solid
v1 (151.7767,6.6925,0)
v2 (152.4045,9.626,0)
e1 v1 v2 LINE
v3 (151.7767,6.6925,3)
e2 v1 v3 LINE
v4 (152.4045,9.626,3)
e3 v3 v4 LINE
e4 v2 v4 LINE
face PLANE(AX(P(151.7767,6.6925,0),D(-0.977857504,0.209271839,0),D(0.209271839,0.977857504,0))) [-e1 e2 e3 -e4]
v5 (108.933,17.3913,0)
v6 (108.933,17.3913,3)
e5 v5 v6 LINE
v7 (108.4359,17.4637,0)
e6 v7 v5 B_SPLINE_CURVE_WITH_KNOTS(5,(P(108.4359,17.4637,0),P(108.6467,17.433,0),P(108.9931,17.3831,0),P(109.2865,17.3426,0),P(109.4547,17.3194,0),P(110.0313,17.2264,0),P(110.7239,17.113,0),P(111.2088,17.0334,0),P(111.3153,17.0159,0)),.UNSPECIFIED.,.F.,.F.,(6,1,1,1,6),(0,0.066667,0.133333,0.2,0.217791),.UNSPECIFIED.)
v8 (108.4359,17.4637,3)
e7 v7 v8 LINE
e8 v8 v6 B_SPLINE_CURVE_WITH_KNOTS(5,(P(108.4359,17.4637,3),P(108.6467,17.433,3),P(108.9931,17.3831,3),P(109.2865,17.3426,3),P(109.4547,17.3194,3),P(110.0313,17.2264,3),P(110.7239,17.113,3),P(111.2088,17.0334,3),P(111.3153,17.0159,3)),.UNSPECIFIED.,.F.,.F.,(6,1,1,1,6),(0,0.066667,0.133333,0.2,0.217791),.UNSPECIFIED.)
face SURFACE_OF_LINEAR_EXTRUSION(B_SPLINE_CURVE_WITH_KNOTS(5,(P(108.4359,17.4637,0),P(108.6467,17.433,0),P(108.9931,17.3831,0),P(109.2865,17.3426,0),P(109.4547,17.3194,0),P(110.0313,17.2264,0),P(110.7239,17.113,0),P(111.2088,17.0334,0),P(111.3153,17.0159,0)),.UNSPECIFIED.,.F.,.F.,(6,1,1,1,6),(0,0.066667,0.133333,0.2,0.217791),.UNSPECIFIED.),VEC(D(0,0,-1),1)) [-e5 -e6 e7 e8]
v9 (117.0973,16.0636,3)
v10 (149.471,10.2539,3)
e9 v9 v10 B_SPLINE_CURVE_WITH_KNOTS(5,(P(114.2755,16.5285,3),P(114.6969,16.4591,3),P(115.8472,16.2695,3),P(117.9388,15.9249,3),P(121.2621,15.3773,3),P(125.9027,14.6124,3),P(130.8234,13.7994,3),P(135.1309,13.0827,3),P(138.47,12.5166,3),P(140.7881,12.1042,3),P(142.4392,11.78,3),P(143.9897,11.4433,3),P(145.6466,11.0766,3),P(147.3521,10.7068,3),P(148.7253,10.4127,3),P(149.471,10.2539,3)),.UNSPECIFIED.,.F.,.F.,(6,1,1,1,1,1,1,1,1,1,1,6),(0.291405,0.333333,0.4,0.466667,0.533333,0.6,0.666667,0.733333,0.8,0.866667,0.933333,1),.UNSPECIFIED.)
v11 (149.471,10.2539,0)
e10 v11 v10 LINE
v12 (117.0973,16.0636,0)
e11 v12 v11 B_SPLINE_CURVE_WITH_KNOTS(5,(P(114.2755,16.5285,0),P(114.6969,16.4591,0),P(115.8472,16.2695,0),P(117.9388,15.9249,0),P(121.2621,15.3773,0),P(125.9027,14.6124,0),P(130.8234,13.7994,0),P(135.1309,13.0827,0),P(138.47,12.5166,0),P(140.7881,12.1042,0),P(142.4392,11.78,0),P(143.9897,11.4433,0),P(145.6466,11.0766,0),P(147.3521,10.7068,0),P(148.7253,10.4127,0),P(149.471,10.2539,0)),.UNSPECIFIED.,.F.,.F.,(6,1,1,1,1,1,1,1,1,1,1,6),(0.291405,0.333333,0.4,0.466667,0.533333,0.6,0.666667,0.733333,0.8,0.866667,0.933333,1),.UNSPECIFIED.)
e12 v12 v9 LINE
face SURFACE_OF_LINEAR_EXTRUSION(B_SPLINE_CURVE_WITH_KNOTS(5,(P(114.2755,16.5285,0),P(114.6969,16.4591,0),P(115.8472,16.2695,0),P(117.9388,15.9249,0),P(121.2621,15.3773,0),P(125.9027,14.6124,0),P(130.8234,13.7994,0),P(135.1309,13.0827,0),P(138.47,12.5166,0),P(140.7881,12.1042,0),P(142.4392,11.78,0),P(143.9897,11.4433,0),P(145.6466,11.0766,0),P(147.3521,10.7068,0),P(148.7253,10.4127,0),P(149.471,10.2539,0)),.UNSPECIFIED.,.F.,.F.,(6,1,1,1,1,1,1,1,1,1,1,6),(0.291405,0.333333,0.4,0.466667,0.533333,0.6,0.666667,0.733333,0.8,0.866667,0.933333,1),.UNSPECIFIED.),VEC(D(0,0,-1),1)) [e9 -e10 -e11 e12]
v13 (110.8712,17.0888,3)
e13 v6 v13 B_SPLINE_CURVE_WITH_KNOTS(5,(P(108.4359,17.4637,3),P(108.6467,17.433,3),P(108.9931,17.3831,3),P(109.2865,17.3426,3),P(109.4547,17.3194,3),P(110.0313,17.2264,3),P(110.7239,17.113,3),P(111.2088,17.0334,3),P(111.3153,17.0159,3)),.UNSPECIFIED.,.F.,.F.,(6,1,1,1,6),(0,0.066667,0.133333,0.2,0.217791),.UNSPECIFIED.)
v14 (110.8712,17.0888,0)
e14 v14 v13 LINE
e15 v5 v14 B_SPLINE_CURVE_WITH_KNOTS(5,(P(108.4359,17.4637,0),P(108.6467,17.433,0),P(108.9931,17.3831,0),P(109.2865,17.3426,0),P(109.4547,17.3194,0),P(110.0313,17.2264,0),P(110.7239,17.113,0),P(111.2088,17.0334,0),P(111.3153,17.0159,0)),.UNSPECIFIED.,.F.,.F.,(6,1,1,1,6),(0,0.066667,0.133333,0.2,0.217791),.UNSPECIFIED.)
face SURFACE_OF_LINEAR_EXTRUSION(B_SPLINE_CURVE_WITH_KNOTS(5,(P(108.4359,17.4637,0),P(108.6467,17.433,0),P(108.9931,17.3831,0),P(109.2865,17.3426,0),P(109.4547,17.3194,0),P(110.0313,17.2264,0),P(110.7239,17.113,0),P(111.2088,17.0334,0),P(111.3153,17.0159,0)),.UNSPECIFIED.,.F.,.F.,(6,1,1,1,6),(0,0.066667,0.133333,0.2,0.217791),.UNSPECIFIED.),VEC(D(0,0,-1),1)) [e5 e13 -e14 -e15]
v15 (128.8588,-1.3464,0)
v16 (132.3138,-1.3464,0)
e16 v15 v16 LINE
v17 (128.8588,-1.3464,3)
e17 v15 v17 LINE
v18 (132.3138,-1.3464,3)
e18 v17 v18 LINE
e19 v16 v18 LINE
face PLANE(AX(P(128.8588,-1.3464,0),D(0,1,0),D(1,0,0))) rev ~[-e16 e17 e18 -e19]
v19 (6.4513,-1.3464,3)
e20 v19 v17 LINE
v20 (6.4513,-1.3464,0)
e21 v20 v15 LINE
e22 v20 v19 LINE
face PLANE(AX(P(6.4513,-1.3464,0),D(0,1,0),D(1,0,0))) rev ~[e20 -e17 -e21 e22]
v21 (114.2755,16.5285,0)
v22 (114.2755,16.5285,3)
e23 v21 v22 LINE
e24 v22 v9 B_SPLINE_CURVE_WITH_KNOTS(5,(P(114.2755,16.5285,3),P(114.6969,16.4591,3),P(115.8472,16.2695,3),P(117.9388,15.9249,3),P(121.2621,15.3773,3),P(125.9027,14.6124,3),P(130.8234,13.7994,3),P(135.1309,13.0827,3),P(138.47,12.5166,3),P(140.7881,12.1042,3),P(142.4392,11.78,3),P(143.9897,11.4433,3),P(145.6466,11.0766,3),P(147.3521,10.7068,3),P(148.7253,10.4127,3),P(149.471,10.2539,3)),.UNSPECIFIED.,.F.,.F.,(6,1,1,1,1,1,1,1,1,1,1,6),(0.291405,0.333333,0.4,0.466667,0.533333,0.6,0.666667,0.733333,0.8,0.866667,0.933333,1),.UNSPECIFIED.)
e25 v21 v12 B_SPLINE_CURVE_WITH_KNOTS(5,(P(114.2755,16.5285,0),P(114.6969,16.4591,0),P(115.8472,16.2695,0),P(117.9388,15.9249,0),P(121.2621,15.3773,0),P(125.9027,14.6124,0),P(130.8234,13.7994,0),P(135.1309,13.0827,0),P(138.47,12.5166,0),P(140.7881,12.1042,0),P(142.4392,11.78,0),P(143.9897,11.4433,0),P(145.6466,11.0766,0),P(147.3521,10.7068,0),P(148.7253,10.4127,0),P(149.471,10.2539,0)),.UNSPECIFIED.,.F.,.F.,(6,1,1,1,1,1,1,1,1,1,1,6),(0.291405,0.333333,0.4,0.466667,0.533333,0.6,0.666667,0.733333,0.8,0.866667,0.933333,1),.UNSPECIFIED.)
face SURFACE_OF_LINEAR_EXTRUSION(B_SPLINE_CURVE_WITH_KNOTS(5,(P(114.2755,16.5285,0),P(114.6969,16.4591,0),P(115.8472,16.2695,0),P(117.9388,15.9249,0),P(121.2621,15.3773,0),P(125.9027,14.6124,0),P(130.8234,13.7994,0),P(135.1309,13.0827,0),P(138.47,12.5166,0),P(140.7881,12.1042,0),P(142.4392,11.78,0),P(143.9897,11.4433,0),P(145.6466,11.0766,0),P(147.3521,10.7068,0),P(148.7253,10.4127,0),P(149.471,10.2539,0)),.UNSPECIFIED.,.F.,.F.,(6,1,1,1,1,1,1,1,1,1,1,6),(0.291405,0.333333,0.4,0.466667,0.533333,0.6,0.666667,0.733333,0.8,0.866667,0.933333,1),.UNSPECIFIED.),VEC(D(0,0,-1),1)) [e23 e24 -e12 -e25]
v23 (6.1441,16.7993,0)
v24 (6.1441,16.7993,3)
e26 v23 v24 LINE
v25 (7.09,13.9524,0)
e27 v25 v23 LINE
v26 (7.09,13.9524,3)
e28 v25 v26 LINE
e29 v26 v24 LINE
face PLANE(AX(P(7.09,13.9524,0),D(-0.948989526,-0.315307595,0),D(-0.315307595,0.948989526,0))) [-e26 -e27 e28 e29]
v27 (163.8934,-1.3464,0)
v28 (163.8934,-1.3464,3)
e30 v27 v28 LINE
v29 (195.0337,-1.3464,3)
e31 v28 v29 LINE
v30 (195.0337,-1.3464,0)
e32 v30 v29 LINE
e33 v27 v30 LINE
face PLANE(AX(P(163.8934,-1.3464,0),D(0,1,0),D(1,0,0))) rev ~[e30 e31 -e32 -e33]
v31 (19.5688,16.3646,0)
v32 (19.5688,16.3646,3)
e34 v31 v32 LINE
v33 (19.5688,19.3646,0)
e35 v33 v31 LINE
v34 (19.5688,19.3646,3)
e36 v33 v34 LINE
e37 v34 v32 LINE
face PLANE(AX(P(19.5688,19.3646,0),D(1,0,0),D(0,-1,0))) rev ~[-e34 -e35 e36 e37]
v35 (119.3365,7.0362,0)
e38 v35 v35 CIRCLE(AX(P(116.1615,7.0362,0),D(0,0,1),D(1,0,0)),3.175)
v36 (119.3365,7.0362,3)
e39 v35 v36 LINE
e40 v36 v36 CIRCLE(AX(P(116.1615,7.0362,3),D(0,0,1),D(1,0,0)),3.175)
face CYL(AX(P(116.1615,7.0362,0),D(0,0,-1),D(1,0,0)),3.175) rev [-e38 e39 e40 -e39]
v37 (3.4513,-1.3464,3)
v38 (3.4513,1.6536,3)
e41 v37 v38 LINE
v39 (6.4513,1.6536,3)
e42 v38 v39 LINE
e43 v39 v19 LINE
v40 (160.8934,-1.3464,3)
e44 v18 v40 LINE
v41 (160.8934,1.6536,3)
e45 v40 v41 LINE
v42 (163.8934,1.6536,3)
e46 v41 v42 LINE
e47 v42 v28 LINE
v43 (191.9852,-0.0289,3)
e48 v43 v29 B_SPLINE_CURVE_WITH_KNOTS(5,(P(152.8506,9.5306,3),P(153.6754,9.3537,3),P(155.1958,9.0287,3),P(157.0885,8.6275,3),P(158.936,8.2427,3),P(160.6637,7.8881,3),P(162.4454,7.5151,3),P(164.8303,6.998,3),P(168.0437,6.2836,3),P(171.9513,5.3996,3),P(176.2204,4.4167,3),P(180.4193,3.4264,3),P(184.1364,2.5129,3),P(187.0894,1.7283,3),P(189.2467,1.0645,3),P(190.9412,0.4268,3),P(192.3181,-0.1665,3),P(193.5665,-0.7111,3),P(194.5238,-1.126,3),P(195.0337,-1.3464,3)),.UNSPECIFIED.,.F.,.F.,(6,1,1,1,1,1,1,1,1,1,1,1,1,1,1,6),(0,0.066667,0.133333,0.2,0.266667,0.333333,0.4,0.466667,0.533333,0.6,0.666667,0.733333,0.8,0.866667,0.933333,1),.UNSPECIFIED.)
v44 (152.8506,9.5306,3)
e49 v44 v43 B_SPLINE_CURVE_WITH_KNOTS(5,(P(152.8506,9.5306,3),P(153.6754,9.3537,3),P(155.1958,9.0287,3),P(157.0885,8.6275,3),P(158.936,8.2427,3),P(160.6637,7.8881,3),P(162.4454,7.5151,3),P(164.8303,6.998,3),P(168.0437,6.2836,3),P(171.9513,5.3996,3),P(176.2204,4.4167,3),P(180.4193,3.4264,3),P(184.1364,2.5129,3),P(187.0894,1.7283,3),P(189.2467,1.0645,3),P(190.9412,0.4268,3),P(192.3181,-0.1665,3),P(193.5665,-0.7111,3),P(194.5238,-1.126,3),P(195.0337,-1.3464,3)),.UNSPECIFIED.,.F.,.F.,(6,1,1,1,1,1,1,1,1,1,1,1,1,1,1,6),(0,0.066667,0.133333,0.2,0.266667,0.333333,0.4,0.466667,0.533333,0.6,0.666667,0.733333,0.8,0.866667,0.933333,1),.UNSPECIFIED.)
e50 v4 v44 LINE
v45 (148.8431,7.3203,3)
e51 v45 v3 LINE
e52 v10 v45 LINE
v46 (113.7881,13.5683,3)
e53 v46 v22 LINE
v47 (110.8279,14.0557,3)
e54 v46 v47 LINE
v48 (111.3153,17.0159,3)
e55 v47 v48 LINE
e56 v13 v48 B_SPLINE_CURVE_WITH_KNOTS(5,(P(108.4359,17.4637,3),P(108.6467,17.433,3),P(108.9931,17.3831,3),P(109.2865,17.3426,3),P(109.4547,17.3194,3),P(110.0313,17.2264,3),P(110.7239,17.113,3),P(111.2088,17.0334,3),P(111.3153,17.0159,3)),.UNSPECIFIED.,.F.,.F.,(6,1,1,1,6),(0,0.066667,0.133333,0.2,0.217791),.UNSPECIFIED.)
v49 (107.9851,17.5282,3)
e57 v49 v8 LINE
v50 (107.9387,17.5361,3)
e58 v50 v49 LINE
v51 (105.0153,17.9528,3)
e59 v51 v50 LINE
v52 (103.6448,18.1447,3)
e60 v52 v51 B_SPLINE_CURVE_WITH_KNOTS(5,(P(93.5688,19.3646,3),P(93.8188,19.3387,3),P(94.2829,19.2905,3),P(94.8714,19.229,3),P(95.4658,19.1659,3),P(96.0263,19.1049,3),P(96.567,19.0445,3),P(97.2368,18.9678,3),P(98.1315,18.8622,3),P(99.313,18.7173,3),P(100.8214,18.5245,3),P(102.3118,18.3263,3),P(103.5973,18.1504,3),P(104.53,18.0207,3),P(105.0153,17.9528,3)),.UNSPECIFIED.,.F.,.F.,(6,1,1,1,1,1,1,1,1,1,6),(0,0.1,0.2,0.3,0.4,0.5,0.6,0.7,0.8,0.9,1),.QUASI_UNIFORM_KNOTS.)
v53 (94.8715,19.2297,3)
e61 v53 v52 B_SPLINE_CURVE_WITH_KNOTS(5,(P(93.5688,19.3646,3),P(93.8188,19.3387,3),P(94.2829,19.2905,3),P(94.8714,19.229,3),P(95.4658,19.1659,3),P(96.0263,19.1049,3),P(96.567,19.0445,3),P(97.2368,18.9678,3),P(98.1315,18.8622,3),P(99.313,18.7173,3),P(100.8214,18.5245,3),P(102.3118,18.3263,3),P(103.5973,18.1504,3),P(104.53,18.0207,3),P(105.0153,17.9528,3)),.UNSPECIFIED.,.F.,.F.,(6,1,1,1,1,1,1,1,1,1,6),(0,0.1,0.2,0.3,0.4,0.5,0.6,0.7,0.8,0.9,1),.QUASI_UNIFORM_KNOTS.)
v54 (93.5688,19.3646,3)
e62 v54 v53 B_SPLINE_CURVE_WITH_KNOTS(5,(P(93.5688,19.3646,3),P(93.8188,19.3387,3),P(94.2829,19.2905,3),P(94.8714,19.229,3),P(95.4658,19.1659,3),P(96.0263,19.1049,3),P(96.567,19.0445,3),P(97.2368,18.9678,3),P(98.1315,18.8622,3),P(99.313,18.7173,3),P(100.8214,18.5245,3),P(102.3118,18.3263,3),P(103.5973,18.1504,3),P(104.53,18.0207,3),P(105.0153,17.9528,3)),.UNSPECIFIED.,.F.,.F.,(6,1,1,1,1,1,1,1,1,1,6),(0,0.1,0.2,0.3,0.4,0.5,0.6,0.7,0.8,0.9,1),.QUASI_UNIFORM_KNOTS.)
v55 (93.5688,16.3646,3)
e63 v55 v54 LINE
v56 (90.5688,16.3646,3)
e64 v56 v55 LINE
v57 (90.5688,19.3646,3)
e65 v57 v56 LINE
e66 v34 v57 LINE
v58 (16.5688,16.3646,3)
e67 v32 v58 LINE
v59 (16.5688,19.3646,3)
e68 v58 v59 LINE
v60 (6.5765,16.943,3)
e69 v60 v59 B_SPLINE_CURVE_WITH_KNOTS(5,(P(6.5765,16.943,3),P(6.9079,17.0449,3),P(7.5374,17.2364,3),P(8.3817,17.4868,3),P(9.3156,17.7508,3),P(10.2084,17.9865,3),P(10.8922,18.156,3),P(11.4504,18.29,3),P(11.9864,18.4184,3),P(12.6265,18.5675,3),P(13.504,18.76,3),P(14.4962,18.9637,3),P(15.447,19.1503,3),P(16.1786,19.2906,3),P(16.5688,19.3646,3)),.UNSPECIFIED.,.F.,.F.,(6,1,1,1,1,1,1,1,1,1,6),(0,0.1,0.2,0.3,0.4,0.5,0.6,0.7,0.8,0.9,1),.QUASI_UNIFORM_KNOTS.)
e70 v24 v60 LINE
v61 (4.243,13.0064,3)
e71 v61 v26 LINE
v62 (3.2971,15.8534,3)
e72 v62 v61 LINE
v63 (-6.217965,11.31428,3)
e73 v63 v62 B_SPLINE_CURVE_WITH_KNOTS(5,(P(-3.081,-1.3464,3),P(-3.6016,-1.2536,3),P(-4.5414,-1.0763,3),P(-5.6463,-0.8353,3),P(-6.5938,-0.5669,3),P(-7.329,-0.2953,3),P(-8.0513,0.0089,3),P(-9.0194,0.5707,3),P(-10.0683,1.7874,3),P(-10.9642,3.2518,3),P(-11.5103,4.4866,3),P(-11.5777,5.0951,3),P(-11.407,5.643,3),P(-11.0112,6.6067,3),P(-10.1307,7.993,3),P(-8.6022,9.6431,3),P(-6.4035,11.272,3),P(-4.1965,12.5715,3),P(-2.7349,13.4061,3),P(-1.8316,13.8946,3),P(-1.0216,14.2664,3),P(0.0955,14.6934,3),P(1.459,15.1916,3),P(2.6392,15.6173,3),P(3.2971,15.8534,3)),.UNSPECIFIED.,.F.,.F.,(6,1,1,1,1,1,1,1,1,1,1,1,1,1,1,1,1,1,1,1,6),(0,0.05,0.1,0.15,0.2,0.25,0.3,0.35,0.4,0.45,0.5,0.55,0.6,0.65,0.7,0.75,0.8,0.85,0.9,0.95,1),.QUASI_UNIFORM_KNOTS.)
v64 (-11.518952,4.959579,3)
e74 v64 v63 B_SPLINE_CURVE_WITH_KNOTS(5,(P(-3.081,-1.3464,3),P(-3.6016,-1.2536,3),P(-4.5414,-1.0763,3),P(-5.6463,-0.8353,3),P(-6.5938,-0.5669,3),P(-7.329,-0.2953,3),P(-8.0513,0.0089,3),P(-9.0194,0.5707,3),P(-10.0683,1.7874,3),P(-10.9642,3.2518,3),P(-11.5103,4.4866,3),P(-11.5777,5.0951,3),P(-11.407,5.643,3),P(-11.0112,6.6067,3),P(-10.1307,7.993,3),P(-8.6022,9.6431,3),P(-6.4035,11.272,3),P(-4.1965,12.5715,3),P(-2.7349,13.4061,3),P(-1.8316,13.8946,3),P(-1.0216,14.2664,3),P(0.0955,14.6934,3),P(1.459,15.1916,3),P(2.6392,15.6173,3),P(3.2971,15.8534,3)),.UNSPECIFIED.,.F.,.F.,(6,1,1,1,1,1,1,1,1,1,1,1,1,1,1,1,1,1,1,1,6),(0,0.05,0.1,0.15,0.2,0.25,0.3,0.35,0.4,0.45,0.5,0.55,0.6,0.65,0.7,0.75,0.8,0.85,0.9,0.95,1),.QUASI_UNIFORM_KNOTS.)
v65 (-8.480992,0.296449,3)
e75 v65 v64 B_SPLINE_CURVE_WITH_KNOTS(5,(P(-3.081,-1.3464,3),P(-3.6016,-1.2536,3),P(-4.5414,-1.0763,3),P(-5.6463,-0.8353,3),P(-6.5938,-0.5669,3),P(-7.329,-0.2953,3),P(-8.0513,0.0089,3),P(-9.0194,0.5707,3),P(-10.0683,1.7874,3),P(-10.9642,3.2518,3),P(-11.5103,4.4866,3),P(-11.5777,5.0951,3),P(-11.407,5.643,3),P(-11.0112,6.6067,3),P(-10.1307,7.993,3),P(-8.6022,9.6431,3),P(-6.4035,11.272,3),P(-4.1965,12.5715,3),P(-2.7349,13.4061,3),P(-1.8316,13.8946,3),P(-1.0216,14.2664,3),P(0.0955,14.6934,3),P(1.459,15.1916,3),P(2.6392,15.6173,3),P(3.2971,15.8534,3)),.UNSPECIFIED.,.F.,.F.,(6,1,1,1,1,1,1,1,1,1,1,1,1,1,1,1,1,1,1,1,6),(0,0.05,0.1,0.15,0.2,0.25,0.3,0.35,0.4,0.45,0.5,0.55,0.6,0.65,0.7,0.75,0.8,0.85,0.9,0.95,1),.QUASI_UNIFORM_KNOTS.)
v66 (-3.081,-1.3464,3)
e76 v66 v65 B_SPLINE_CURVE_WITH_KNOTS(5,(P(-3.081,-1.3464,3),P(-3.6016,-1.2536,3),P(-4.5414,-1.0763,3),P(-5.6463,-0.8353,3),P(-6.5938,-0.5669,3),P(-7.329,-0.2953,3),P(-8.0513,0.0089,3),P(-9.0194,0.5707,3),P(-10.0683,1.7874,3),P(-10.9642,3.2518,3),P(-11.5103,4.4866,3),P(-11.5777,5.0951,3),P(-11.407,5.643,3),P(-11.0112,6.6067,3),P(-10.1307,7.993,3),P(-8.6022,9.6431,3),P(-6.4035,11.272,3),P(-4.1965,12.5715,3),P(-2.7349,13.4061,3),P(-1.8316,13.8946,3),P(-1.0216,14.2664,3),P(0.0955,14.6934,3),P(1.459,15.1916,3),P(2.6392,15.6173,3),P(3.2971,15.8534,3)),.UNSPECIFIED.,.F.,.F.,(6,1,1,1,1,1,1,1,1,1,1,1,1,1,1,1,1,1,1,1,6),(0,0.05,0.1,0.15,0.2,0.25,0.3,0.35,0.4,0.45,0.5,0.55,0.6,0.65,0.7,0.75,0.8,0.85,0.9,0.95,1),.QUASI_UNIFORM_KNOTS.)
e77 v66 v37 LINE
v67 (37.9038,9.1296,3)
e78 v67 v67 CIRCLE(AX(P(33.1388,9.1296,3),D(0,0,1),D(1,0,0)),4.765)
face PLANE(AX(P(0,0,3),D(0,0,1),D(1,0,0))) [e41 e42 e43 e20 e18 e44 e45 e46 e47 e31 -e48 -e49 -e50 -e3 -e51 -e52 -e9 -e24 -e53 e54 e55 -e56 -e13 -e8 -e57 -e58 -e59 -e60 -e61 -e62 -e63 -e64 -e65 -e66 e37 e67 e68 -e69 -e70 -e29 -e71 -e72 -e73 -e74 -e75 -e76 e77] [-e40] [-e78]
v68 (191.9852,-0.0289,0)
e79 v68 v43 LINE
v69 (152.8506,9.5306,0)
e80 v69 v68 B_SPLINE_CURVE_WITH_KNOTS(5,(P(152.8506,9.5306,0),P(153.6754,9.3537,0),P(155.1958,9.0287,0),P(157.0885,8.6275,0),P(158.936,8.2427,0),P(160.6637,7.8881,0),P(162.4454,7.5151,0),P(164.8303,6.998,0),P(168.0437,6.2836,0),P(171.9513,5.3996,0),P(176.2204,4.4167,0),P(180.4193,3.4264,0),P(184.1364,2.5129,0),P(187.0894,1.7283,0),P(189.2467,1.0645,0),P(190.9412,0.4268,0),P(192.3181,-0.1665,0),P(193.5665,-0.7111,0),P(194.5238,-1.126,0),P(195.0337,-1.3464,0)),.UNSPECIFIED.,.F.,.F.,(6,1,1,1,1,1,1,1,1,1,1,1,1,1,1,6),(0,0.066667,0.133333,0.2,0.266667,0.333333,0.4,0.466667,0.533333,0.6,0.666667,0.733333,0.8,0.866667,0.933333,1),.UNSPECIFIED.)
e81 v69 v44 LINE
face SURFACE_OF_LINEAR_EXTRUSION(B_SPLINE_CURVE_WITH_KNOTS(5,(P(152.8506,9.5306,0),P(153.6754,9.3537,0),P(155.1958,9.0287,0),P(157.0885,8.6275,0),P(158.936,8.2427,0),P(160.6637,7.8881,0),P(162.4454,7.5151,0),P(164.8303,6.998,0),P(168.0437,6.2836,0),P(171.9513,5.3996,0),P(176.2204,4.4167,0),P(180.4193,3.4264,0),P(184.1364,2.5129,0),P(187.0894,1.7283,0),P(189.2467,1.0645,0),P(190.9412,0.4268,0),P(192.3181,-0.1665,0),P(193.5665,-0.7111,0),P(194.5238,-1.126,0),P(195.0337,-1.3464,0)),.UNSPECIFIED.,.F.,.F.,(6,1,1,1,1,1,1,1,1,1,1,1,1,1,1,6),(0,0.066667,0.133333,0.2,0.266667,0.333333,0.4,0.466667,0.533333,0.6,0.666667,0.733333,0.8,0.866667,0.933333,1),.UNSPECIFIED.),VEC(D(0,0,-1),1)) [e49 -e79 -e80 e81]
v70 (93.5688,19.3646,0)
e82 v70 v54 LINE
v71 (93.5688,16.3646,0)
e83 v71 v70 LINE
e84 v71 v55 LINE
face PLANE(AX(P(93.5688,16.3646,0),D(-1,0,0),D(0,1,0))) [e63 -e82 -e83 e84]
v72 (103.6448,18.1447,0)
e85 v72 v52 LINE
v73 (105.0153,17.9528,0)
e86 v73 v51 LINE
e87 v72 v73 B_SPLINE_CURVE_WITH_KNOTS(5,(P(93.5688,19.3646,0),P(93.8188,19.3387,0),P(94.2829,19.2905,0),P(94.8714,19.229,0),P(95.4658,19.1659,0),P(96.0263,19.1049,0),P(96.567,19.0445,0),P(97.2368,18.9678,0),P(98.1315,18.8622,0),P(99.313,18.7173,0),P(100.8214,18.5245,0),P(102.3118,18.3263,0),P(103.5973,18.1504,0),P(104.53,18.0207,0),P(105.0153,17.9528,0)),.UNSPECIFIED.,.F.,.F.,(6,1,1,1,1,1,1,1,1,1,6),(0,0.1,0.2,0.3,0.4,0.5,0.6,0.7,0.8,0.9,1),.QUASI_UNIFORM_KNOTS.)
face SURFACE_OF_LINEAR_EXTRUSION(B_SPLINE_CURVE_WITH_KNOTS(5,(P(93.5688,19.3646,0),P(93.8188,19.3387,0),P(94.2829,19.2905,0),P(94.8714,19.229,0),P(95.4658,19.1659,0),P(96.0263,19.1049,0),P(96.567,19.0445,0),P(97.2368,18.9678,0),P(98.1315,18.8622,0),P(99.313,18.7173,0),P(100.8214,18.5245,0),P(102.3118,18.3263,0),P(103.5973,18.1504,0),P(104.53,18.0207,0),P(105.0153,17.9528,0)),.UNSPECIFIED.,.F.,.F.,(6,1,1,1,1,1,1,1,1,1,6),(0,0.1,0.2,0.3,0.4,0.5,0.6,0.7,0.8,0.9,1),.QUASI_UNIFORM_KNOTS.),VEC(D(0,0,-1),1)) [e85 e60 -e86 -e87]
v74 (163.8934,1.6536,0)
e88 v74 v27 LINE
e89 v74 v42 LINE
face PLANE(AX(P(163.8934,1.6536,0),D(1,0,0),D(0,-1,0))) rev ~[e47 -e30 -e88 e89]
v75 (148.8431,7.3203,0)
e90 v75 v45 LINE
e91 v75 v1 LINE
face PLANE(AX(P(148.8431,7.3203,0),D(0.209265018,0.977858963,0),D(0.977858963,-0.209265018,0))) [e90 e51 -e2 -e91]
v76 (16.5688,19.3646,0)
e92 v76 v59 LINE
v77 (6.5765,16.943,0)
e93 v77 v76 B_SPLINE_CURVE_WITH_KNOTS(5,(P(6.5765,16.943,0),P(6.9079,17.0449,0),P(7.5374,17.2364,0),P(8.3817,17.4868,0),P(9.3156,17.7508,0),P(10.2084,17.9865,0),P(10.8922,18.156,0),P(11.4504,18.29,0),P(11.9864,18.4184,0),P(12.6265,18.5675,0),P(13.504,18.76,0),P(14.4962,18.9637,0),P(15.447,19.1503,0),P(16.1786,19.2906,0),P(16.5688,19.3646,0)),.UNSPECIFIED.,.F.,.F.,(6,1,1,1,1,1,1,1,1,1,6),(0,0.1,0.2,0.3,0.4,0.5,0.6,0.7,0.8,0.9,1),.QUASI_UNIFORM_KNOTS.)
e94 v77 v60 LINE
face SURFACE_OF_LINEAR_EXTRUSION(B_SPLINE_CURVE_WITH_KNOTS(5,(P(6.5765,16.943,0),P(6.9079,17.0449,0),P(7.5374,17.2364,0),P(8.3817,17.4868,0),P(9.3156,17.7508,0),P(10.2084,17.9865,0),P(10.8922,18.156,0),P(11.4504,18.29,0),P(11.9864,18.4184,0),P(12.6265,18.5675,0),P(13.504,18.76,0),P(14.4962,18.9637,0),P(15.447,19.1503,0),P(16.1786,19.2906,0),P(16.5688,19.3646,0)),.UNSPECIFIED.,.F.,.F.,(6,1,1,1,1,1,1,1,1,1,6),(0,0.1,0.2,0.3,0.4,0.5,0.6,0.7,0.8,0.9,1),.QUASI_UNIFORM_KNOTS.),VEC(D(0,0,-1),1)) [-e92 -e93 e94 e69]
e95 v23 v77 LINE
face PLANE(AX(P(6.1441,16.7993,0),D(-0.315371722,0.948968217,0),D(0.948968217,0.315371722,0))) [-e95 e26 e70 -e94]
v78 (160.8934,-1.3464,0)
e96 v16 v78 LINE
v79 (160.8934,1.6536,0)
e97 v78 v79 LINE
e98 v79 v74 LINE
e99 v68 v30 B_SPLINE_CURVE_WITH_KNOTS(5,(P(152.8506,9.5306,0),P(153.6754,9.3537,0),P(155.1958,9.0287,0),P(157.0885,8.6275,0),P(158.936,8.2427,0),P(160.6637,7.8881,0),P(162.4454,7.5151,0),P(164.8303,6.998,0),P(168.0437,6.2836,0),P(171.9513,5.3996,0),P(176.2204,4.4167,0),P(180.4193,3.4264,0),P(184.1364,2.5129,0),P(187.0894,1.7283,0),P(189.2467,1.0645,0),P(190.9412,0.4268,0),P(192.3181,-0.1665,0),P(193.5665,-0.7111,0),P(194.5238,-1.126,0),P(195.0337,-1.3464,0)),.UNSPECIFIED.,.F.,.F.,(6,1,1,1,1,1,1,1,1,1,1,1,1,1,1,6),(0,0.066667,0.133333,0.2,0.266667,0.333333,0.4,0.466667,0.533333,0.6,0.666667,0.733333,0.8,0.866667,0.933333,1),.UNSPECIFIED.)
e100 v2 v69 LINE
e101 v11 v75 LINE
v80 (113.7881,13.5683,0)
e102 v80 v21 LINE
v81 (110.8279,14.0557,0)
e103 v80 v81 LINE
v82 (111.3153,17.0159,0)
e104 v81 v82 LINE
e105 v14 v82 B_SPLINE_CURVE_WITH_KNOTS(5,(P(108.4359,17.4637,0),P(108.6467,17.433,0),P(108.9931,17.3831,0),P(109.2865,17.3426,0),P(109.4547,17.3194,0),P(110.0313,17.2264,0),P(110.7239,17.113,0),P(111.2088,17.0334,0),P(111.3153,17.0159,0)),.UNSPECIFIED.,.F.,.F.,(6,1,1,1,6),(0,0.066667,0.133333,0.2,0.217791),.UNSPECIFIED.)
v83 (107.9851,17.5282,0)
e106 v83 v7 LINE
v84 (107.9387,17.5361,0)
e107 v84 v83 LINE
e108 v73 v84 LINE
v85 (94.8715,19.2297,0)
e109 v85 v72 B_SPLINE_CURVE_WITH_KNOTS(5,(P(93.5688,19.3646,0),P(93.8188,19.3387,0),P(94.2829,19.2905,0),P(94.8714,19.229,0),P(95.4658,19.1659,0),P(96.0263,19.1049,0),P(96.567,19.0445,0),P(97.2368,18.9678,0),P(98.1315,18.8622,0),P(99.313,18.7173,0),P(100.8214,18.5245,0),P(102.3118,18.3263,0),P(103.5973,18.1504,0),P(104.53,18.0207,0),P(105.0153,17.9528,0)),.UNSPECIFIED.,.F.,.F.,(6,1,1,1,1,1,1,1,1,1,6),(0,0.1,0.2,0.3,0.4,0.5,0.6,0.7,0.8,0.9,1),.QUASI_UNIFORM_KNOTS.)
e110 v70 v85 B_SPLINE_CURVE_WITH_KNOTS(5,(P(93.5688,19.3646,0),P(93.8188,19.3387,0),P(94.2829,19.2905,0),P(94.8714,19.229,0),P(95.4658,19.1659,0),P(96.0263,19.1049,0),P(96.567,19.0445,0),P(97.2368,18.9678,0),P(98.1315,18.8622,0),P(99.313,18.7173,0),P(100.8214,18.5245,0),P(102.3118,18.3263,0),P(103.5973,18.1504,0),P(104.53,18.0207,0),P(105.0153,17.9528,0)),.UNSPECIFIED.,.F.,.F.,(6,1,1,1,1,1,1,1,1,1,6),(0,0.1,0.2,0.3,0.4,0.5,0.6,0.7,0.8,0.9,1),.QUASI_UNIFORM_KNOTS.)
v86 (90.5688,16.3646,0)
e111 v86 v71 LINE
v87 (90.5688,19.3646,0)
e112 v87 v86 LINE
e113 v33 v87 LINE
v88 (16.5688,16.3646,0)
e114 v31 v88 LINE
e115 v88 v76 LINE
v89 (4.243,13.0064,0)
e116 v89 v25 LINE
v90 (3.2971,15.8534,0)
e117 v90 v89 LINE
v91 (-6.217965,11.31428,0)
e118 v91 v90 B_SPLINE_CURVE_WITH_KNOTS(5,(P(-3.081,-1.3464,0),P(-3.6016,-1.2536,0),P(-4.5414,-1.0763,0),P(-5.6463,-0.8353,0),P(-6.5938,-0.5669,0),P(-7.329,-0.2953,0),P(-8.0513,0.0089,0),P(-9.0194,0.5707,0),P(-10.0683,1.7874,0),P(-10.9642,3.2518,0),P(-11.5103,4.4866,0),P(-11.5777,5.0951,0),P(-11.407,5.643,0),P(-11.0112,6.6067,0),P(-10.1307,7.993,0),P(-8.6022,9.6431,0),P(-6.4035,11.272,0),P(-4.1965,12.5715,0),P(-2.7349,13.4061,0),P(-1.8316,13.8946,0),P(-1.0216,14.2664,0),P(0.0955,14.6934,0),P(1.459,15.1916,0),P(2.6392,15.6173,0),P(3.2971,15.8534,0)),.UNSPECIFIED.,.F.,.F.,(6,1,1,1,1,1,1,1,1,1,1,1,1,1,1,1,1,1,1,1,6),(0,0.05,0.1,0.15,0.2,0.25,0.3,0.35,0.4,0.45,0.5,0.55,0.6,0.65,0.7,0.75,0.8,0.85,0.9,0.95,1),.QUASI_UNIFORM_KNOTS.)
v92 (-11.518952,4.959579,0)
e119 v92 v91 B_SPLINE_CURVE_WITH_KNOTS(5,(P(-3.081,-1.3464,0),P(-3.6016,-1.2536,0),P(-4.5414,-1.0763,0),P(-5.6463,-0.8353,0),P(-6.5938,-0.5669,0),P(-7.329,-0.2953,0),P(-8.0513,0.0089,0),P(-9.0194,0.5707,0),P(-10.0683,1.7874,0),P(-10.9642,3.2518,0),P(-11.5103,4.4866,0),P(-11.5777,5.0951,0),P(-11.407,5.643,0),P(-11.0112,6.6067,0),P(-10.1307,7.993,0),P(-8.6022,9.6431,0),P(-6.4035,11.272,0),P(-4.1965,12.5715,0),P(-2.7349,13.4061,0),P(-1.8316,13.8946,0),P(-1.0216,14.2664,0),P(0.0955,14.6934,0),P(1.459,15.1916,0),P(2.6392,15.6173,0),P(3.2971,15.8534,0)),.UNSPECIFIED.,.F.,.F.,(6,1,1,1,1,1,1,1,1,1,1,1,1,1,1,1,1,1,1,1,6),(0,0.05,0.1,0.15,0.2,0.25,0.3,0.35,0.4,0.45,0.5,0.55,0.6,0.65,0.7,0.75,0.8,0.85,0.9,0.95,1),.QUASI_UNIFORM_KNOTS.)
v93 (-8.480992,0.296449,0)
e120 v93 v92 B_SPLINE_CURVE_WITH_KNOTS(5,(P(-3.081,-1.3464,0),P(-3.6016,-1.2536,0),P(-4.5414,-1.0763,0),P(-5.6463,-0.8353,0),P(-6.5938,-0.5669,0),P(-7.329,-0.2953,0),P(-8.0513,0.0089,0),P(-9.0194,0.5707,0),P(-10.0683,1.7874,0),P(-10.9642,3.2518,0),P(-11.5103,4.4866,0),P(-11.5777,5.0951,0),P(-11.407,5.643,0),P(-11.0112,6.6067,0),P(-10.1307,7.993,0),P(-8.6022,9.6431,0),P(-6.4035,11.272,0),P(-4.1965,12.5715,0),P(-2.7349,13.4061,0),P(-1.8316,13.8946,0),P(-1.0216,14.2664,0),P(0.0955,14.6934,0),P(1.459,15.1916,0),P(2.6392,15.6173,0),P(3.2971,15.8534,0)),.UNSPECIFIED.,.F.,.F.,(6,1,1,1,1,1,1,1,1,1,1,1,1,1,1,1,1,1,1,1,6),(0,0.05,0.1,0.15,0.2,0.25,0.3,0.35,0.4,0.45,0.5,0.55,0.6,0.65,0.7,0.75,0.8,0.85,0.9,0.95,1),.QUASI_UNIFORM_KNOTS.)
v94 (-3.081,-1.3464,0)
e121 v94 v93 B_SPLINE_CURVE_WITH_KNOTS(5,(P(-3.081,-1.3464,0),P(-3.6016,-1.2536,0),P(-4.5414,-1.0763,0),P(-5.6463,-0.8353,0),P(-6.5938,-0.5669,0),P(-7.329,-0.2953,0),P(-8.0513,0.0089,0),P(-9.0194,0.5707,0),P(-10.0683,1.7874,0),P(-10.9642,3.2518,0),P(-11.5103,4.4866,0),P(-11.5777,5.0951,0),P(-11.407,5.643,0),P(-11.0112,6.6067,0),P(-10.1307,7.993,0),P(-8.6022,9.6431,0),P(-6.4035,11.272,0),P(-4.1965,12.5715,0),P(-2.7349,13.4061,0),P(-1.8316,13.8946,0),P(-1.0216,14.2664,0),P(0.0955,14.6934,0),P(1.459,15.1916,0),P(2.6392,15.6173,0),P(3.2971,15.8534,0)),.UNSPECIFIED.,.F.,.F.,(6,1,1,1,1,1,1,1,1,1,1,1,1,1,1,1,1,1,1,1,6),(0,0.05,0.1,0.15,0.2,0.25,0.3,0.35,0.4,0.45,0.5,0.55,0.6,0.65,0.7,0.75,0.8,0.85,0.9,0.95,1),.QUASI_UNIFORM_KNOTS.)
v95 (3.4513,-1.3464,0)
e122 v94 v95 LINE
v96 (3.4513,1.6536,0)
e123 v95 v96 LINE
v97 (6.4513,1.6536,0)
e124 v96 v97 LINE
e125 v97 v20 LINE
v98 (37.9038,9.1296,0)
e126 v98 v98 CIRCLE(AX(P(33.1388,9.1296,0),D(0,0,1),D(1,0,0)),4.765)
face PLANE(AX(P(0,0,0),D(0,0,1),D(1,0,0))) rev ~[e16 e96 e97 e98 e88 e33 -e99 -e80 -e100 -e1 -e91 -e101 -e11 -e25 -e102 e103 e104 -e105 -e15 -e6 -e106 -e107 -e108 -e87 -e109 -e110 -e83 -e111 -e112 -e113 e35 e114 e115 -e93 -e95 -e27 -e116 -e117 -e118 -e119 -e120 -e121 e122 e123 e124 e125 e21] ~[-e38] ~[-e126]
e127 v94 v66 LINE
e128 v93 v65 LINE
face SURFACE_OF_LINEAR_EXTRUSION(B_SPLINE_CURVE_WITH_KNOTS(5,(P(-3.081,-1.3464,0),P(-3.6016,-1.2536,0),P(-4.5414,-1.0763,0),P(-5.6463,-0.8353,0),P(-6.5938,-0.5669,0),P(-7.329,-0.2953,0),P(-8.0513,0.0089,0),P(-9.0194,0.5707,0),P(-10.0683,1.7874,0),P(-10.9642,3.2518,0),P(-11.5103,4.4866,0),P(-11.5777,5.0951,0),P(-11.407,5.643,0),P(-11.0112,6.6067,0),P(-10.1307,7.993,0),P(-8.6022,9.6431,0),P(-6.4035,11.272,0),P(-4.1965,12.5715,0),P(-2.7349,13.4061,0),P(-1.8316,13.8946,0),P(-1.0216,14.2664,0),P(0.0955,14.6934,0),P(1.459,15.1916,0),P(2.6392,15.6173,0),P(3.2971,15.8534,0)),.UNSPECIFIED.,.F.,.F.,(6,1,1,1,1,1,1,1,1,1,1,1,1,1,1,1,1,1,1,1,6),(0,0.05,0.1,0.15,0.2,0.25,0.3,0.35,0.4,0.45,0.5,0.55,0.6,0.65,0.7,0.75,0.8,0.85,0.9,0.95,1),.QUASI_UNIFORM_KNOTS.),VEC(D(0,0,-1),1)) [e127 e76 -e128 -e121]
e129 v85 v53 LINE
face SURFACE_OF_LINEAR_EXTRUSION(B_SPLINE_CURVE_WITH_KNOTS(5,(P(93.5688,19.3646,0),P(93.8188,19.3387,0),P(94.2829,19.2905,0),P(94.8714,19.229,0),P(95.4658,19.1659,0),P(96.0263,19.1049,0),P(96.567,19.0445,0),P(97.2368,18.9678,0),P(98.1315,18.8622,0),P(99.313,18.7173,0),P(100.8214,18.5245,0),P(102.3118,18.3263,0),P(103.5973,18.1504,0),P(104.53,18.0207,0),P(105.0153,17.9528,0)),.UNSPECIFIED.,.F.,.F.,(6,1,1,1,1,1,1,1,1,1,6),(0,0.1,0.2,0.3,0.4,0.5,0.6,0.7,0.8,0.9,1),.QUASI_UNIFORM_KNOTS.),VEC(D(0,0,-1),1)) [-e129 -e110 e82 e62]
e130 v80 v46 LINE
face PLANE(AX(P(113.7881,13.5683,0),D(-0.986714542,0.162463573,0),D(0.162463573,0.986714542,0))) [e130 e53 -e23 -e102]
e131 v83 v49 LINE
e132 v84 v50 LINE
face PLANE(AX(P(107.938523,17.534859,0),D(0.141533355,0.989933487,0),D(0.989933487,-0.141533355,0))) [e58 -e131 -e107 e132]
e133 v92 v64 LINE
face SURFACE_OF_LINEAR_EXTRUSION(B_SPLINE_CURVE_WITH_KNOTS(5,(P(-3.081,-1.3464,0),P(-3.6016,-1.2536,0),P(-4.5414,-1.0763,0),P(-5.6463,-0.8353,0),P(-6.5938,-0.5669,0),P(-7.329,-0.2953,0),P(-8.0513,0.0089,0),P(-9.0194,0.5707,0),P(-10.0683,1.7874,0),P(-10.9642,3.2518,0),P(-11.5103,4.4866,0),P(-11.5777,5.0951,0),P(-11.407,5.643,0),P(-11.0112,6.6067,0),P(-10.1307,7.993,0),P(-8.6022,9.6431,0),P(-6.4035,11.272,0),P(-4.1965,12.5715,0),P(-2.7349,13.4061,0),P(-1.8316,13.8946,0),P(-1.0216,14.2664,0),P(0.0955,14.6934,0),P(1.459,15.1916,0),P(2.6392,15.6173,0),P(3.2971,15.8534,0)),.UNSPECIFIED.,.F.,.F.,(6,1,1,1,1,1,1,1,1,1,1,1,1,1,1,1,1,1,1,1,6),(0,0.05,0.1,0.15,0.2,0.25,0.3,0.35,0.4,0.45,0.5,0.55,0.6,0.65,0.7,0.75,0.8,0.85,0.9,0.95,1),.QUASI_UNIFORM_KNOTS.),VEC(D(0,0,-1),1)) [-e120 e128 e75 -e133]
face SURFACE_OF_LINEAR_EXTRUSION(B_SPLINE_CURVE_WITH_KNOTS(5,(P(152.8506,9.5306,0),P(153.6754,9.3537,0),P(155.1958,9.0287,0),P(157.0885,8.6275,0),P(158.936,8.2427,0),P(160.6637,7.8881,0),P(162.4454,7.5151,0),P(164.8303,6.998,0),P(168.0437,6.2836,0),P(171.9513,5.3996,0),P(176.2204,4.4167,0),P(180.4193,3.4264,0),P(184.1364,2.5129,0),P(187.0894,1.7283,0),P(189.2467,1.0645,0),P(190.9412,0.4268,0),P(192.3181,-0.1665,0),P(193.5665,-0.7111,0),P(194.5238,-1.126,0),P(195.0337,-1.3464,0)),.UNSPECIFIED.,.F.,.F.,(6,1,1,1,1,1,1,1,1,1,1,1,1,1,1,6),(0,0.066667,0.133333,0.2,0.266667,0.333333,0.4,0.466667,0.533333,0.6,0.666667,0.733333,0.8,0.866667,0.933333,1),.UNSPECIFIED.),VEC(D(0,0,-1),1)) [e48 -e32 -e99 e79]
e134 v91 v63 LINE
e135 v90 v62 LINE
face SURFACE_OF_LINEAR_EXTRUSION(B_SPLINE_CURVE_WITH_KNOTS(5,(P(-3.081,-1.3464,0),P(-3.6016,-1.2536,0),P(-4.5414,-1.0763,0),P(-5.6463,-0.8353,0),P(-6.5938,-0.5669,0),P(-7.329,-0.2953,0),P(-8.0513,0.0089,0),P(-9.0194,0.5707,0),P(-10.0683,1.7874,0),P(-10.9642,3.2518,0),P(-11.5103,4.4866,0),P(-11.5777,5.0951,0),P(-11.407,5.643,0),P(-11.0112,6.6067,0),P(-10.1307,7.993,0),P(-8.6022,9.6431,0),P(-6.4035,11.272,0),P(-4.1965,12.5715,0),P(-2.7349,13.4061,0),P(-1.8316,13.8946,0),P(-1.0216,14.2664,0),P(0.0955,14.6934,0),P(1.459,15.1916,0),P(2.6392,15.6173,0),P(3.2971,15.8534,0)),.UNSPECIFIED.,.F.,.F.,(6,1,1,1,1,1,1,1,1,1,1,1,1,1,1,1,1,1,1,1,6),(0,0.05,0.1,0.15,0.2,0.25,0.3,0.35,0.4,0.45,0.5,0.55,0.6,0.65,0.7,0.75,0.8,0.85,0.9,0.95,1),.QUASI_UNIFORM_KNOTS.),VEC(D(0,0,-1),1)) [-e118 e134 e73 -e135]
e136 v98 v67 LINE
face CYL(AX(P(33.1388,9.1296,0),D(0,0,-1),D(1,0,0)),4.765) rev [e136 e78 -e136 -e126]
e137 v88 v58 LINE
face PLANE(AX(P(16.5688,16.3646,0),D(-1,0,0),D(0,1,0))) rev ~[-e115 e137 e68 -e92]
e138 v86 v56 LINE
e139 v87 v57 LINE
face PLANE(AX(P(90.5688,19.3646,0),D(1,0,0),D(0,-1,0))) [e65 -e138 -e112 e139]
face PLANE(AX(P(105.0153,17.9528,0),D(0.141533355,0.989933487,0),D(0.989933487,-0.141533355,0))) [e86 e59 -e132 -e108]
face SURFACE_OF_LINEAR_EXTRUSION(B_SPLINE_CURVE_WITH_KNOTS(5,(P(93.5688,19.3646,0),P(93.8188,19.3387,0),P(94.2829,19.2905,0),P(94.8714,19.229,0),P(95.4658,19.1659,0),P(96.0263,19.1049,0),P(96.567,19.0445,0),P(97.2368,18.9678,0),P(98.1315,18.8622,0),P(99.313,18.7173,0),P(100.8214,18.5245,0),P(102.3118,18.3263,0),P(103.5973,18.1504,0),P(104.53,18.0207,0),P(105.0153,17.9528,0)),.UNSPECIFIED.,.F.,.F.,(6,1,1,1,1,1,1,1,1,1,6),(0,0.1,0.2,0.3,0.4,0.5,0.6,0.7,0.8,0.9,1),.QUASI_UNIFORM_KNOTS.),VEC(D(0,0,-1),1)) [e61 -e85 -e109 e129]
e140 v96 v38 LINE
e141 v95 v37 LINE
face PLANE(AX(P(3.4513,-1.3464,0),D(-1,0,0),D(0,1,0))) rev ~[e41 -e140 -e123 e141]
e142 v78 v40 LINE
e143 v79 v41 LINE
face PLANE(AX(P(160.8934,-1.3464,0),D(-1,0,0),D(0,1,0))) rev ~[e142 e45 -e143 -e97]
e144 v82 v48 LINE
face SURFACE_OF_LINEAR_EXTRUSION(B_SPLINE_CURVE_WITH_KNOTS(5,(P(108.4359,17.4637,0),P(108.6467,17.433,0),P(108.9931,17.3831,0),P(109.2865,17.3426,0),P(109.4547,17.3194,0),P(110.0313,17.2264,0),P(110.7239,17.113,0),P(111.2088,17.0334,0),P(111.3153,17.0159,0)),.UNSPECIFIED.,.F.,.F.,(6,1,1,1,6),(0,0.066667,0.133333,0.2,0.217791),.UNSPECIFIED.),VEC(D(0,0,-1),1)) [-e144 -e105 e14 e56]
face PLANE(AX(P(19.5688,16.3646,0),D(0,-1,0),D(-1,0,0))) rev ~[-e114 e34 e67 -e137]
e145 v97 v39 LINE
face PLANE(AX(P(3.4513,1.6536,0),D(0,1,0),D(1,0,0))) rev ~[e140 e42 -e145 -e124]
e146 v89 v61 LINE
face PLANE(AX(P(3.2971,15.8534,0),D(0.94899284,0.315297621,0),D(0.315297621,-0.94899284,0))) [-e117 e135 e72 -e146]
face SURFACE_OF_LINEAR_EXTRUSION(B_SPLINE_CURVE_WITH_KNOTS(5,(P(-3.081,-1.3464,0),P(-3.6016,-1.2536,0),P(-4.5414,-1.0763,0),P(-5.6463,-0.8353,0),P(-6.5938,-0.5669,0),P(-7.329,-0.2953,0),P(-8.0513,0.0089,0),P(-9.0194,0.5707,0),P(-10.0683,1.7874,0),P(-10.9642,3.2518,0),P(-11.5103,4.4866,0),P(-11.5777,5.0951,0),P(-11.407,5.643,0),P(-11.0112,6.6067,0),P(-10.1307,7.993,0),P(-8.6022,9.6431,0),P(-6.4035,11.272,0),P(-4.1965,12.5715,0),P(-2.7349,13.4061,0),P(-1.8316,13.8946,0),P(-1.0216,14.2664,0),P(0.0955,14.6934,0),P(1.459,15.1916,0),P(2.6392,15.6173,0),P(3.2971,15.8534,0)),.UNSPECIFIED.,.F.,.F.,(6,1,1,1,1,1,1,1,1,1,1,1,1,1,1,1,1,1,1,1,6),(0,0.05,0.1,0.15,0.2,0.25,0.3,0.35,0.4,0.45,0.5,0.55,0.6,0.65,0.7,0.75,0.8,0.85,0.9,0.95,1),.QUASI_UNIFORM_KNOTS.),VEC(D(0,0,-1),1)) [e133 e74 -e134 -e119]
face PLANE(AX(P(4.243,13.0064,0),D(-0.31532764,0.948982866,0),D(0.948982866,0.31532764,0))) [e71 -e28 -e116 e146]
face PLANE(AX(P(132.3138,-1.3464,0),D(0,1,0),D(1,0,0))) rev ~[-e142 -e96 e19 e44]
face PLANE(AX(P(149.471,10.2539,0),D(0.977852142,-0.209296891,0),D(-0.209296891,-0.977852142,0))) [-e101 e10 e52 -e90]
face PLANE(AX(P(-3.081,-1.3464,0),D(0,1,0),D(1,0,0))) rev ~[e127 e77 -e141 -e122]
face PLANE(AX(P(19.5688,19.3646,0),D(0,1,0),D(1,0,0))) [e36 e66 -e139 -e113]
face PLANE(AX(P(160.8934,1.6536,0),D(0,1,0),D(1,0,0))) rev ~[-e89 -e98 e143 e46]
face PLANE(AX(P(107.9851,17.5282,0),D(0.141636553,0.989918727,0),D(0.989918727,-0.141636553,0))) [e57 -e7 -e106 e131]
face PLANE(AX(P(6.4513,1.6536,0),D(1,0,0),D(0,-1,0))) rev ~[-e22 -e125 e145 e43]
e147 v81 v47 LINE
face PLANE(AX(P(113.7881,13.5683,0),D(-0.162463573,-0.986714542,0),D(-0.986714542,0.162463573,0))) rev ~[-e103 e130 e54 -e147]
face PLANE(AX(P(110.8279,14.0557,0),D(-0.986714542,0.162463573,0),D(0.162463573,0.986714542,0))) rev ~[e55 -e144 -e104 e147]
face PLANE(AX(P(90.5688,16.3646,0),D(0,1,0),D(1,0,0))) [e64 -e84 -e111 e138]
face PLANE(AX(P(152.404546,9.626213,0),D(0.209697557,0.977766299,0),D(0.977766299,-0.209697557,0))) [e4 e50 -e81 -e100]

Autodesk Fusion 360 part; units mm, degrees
sketch "Sketch1" plane through (0, 0, 0) normal (0, 0, 1) x (1, 0, 0) in component "Airfoil structure"
  spline S0 degree 5 poles (152.8506, 9.5306) (153.6754, 9.3537) (155.1958, 9.0287) (157.0885, 8.6275) (158.936, 8.2427) (160.6637, 7.8881) (162.4454, 7.5151) (164.8303, 6.998) (168.0437, 6.2836) (171.9513, 5.3996) (176.2204, 4.4167) (180.4193, 3.4264) (184.1364, 2.5129) (187.0894, 1.7283) (189.2467, 1.0645) (190.9412, 0.4268) (192.3181, -0.1665) (193.5665, -0.7111) (194.5238, -1.126) (195.0337, -1.3464) knots 0 0 0 0 0 0 0.066667 0.133333 0.2 0.266667 0.333333 0.4 0.466667 0.533333 0.6 0.666667 0.733333 0.8 0.866667 0.933333 1 1 1 1 1 1
  line L0 (148.4907, 10.4656) -> (157.2105, 8.5955)
  line L1 (191.9852, -0.0289) -> (198.0822, -2.6639)
  circle A0 centre (33.1388, 9.1296) radius 4.765
  circle A1 centre (116.1615, 7.0362) radius 3.175
  spline S1 degree 5 poles (-3.081, -1.3464) (-3.6016, -1.2536) (-4.5414, -1.0763) (-5.6463, -0.8353) (-6.5938, -0.5669) (-7.329, -0.2953) (-8.0513, 0.0089) (-9.0194, 0.5707) (-10.0683, 1.7874) (-10.9642, 3.2518) (-11.5103, 4.4866) (-11.5777, 5.0951) (-11.407, 5.643) (-11.0112, 6.6067) (-10.1307, 7.993) (-8.6022, 9.6431) (-6.4035, 11.272) (-4.1965, 12.5715) (-2.7349, 13.4061) (-1.8316, 13.8946) (-1.0216, 14.2664) (0.0955, 14.6934) (1.459, 15.1916) (2.6392, 15.6173) (3.2971, 15.8534) knots 0 0 0 0 0 0 0.05 0.1 0.15 0.2 0.25 0.3 0.35 0.4 0.45 0.5 0.55 0.6 0.65 0.7 0.75 0.8 0.85 0.9 0.95 1 1 1 1 1 1
  line L2 (0.5703, -1.9971) -> (-6.7323, -0.6957)
  line L3 (-0.0118, 14.6656) -> (6.606, 17.0412)
  line L4 (-8.4792, 9.8153) -> (-3.9569, 12.8132)
  line L5 (-11.5034, 4.2257) -> (-11.5345, 5.6935)
  line L6 (-7.2174, -0.5359) -> (-9.7443, 1.1286)
  line L7 (19.5688, 19.3646) -> (90.5688, 19.3646)
  spline S2 degree 5 poles (93.5688, 19.3646) (93.8188, 19.3387) (94.2829, 19.2905) (94.8714, 19.229) (95.4658, 19.1659) (96.0263, 19.1049) (96.567, 19.0445) (97.2368, 18.9678) (98.1315, 18.8622) (99.313, 18.7173) (100.8214, 18.5245) (102.3118, 18.3263) (103.5973, 18.1504) (104.53, 18.0207) (105.0153, 17.9528) knots 0 0 0 0 0 0 0.1 0.2 0.3 0.4 0.5 0.6 0.7 0.8 0.9 1 1 1 1 1 1
  line L8 (92.266, 19.4996) -> (94.8715, 19.2297)
  line L9 (103.6448, 18.1447) -> (106.3858, 17.761)
  spline S3 degree 5 poles (6.5765, 16.943) (6.9079, 17.0449) (7.5374, 17.2364) (8.3817, 17.4868) (9.3156, 17.7508) (10.2084, 17.9865) (10.8922, 18.156) (11.4504, 18.29) (11.9864, 18.4184) (12.6265, 18.5675) (13.504, 18.76) (14.4962, 18.9637) (15.447, 19.1503) (16.1786, 19.2906) (16.5688, 19.3646) knots 0 0 0 0 0 0 0.1 0.2 0.3 0.4 0.5 0.6 0.7 0.8 0.9 1 1 1 1 1 1
  line L10 (5.4107, 16.5846) -> (7.7424, 17.3015)
  line L11 (15.2328, 19.111) -> (17.9048, 19.6183)
  line L12 (152.4045, 9.626) -> (152.8506, 9.5306)
  line L13 (107.9851, 17.5282) -> (108.4359, 17.4637)
  line L14 (6.1441, 16.7993) -> (6.5765, 16.943)
  line L15 (128.8588, -1.3464) -> (132.3138, -1.3464)
  line L16 (149.471, 10.2539) -> (148.8431, 7.3203)
  line L17 (148.8431, 7.3203) -> (151.7767, 6.6925)
  line L18 (151.7767, 6.6925) -> (152.4045, 9.626)
  line L19 (3.2971, 15.8534) -> (4.243, 13.0064)
  line L20 (4.243, 13.0064) -> (7.09, 13.9524)
  line L21 (7.09, 13.9524) -> (6.1441, 16.7993)
  line L22 (160.8934, -1.3464) -> (160.8934, 1.6536)
  line L23 (160.8934, 1.6536) -> (163.8934, 1.6536)
  line L24 (163.8934, 1.6536) -> (163.8934, -1.3464)
  line L25 (132.3138, -1.3464) -> (160.8934, -1.3464)
  line L26 (163.8934, -1.3464) -> (195.0337, -1.3464)
  line L27 (3.4513, -1.3464) -> (3.4513, 1.6536)
  line L28 (3.4513, 1.6536) -> (6.4513, 1.6536)
  line L29 (6.4513, 1.6536) -> (6.4513, -1.3464)
  line L30 (-3.081, -1.3464) -> (3.4513, -1.3464)
  line L31 (6.4513, -1.3464) -> (128.8588, -1.3464)
  line L32 (105.0153, 17.9528) -> (107.9851, 17.5282)
  line L33 (19.5688, 19.3646) -> (19.5688, 16.3646)
  line L34 (19.5688, 16.3646) -> (16.5688, 16.3646)
  line L35 (16.5688, 16.3646) -> (16.5688, 19.3646)
  line L36 (90.5688, 19.3646) -> (90.5688, 16.3646)
  line L37 (90.5688, 16.3646) -> (93.5688, 16.3646)
  line L38 (93.5688, 16.3646) -> (93.5688, 19.3646)
  line L39 (113.7881, 13.5683) -> (110.8279, 14.0557)
  line L40 (110.8279, 14.0557) -> (111.3153, 17.0159)
  line L41 (113.7881, 13.5683) -> (114.2755, 16.5285)
  spline S4 degree 5 poles (108.4359, 17.4637) (108.6467, 17.433) (108.9931, 17.3831) (109.2865, 17.3426) (109.4547, 17.3194) (110.0313, 17.2264) (110.7239, 17.113) (111.2088, 17.0334) (111.3153, 17.0159) knots 0 0 0 0 0 0 0.066667 0.133333 0.2 0.217791 0.217791 0.217791 0.217791 0.217791 0.217791
  line L42 (107.9387, 17.5361) -> (108.933, 17.3913)
  line L43 (110.8712, 17.0888) -> (111.7595, 16.9429)
  spline S5 degree 5 poles (114.2755, 16.5285) (114.6969, 16.4591) (115.8472, 16.2695) (117.9388, 15.9249) (121.2621, 15.3773) (125.9027, 14.6124) (130.8234, 13.7994) (135.1309, 13.0827) (138.47, 12.5166) (140.7881, 12.1042) (142.4392, 11.78) (143.9897, 11.4433) (145.6466, 11.0766) (147.3521, 10.7068) (148.7253, 10.4127) (149.471, 10.2539) knots 0.291405 0.291405 0.291405 0.291405 0.291405 0.291405 0.333333 0.4 0.466667 0.533333 0.6 0.666667 0.733333 0.8 0.866667 0.933333 1 1 1 1 1 1
  line L44 (111.4536, 16.9935) -> (117.0973, 16.0636)
  line L45 (143.5745, 11.5101) -> (155.3674, 8.9976)
  point P0 (-8.4808, 0.2964)
  point P1 (-11.5189, 4.9596)
  point P2 (-6.2181, 11.3142)
  point P3 (11.4183, 18.2822)
  point P4 (96.5722, 19.0435)
  point P5 (109.7229, 17.2753)
  point P6 (137.8507, 12.6179)
  point P7 (163.7248, 7.2358)
  point P8 (186.791, 1.7868)
  dimension "d38" = 77
  dimension "d53" = 9.53
  dimension "d54" = 6.35
  dimension "d59" = 3
extrude "Extrude2" add sketch "Sketch1" along normal blind 3 contours S0 L0 L1 S1 L7 S2 L8 L9 S3 L12 L13 L14 L15 L16 L17 L18 L19 L20 L21 L22 L23 L24 L25 L26 L27 L28 L29 L30 L31 L32 L33 L34 L35 L36 L37 L38 L39 L40 L41 S4 L42 L43 S5 L44
sketch "lazercut" plane through (0, 0, 3) normal (0, 0, 1) x (1, 0, 0)
  circle A0 centre (33.1388, 9.1296) radius 4.765
  circle A1 centre (116.1615, 7.0362) radius 3.175
  line L0 (113.7881, 13.5683) -> (110.8279, 14.0557)
  line L1 (110.8279, 14.0557) -> (111.3153, 17.0159)
  spline S0 degree 5 poles (111.3153, 17.0159) (111.2088, 17.0334) (110.7239, 17.113) (110.0313, 17.2264) (109.4547, 17.3194) (109.2865, 17.3426) (108.9931, 17.3831) (108.6467, 17.433) (108.4359, 17.4637) knots -0.217791 -0.217791 -0.217791 -0.217791 -0.217791 -0.217791 -0.2 -0.133333 -0.066667 0 0 0 0 0 0
  line L2 (108.4359, 17.4637) -> (105.0153, 17.9528)
  spline S1 degree 5 poles (105.0153, 17.9528) (104.53, 18.0207) (103.5973, 18.1504) (102.3118, 18.3263) (100.8214, 18.5245) (99.313, 18.7173) (98.1315, 18.8622) (97.2368, 18.9678) (96.567, 19.0445) (96.0263, 19.1049) (95.4658, 19.1659) (94.8714, 19.229) (94.2829, 19.2905) (93.8188, 19.3387) (93.5688, 19.3646) knots -1 -1 -1 -1 -1 -1 -0.9 -0.8 -0.7 -0.6 -0.5 -0.4 -0.3 -0.2 -0.1 0 0 0 0 0 0
  line L3 (93.5688, 19.3646) -> (93.5688, 16.3646)
  line L4 (93.5688, 16.3646) -> (90.5688, 16.3646)
  line L5 (90.5688, 16.3646) -> (90.5688, 19.3646)
  line L6 (90.5688, 19.3646) -> (19.5688, 19.3646)
  line L7 (19.5688, 19.3646) -> (19.5688, 16.3646)
  line L8 (19.5688, 16.3646) -> (16.5688, 16.3646)
  line L9 (16.5688, 16.3646) -> (16.5688, 19.3646)
  spline S2 degree 5 poles (16.5688, 19.3646) (16.1786, 19.2906) (15.447, 19.1503) (14.4962, 18.9637) (13.504, 18.76) (12.6265, 18.5675) (11.9864, 18.4184) (11.4504, 18.29) (10.8922, 18.156) (10.2084, 17.9865) (9.3156, 17.7508) (8.3817, 17.4868) (7.5374, 17.2364) (6.9079, 17.0449) (6.5765, 16.943) knots -1 -1 -1 -1 -1 -1 -0.9 -0.8 -0.7 -0.6 -0.5 -0.4 -0.3 -0.2 -0.1 0 0 0 0 0 0
  line L10 (6.5765, 16.943) -> (6.1441, 16.7993)
  line L11 (6.1441, 16.7993) -> (7.09, 13.9524)
  line L12 (7.09, 13.9524) -> (4.243, 13.0064)
  line L13 (4.243, 13.0064) -> (3.2971, 15.8534)
  spline S3 degree 5 poles (3.2971, 15.8534) (2.6392, 15.6173) (1.459, 15.1916) (0.0955, 14.6934) (-1.0216, 14.2664) (-1.8316, 13.8946) (-2.7349, 13.4061) (-4.1965, 12.5715) (-6.4035, 11.272) (-8.6022, 9.6431) (-10.1307, 7.993) (-11.0112, 6.6067) (-11.407, 5.643) (-11.5777, 5.0951) (-11.5103, 4.4866) (-10.9642, 3.2518) (-10.0683, 1.7874) (-9.0194, 0.5707) (-8.0513, 0.0089) (-7.329, -0.2953) (-6.5938, -0.5669) (-5.6463, -0.8353) (-4.5414, -1.0763) (-3.6016, -1.2536) (-3.081, -1.3464) knots -1 -1 -1 -1 -1 -1 -0.95 -0.9 -0.85 -0.8 -0.75 -0.7 -0.65 -0.6 -0.55 -0.5 -0.45 -0.4 -0.35 -0.3 -0.25 -0.2 -0.15 -0.1 -0.05 0 0 0 0 0 0
  line L14 (-3.081, -1.3464) -> (3.4513, -1.3464)
  line L15 (3.4513, -1.3464) -> (3.4513, 1.6536)
  line L16 (3.4513, 1.6536) -> (6.4513, 1.6536)
  line L17 (6.4513, 1.6536) -> (6.4513, -1.3464)
  line L18 (6.4513, -1.3464) -> (160.8934, -1.3464)
  line L19 (160.8934, -1.3464) -> (160.8934, 1.6536)
  line L20 (160.8934, 1.6536) -> (163.8934, 1.6536)
  line L21 (163.8934, 1.6536) -> (163.8934, -1.3464)
  line L22 (163.8934, -1.3464) -> (195.0337, -1.3464)
  spline S4 degree 5 poles (195.0337, -1.3464) (194.5238, -1.126) (193.5665, -0.7111) (192.3181, -0.1665) (190.9412, 0.4268) (189.2467, 1.0645) (187.0894, 1.7283) (184.1364, 2.5129) (180.4193, 3.4264) (176.2204, 4.4167) (171.9513, 5.3996) (168.0437, 6.2836) (164.8303, 6.998) (162.4454, 7.5151) (160.6637, 7.8881) (158.936, 8.2427) (157.0885, 8.6275) (155.1958, 9.0287) (153.6754, 9.3537) (152.8506, 9.5306) knots -1 -1 -1 -1 -1 -1 -0.933333 -0.866667 -0.8 -0.733333 -0.666667 -0.6 -0.533333 -0.466667 -0.4 -0.333333 -0.266667 -0.2 -0.133333 -0.066667 0 0 0 0 0 0
  line L23 (152.8506, 9.5306) -> (152.4045, 9.626)
  line L24 (152.4045, 9.626) -> (151.7767, 6.6925)
  line L25 (151.7767, 6.6925) -> (148.8431, 7.3203)
  line L26 (148.8431, 7.3203) -> (149.471, 10.2539)
  spline S5 degree 5 poles (149.471, 10.2539) (148.7253, 10.4127) (147.3521, 10.7068) (145.6466, 11.0766) (143.9897, 11.4433) (142.4392, 11.78) (140.7881, 12.1042) (138.47, 12.5166) (135.1309, 13.0827) (130.8234, 13.7994) (125.9027, 14.6124) (121.2621, 15.3773) (117.9388, 15.9249) (115.8472, 16.2695) (114.6969, 16.4591) (114.2755, 16.5285) knots -1 -1 -1 -1 -1 -1 -0.933333 -0.866667 -0.8 -0.733333 -0.666667 -0.6 -0.533333 -0.466667 -0.4 -0.333333 -0.291405 -0.291405 -0.291405 -0.291405 -0.291405 -0.291405
  line L27 (114.2755, 16.5285) -> (113.7881, 13.5683)
sketch "Sketch3" plane through (0, 0, 0) normal (0, 0, 1) x (1, 0, 0)
component "Airfoil structure" placed x (1, 0, 0) y (0, 1, 0) z (0, 0, 1) at (0, 0, 0)
